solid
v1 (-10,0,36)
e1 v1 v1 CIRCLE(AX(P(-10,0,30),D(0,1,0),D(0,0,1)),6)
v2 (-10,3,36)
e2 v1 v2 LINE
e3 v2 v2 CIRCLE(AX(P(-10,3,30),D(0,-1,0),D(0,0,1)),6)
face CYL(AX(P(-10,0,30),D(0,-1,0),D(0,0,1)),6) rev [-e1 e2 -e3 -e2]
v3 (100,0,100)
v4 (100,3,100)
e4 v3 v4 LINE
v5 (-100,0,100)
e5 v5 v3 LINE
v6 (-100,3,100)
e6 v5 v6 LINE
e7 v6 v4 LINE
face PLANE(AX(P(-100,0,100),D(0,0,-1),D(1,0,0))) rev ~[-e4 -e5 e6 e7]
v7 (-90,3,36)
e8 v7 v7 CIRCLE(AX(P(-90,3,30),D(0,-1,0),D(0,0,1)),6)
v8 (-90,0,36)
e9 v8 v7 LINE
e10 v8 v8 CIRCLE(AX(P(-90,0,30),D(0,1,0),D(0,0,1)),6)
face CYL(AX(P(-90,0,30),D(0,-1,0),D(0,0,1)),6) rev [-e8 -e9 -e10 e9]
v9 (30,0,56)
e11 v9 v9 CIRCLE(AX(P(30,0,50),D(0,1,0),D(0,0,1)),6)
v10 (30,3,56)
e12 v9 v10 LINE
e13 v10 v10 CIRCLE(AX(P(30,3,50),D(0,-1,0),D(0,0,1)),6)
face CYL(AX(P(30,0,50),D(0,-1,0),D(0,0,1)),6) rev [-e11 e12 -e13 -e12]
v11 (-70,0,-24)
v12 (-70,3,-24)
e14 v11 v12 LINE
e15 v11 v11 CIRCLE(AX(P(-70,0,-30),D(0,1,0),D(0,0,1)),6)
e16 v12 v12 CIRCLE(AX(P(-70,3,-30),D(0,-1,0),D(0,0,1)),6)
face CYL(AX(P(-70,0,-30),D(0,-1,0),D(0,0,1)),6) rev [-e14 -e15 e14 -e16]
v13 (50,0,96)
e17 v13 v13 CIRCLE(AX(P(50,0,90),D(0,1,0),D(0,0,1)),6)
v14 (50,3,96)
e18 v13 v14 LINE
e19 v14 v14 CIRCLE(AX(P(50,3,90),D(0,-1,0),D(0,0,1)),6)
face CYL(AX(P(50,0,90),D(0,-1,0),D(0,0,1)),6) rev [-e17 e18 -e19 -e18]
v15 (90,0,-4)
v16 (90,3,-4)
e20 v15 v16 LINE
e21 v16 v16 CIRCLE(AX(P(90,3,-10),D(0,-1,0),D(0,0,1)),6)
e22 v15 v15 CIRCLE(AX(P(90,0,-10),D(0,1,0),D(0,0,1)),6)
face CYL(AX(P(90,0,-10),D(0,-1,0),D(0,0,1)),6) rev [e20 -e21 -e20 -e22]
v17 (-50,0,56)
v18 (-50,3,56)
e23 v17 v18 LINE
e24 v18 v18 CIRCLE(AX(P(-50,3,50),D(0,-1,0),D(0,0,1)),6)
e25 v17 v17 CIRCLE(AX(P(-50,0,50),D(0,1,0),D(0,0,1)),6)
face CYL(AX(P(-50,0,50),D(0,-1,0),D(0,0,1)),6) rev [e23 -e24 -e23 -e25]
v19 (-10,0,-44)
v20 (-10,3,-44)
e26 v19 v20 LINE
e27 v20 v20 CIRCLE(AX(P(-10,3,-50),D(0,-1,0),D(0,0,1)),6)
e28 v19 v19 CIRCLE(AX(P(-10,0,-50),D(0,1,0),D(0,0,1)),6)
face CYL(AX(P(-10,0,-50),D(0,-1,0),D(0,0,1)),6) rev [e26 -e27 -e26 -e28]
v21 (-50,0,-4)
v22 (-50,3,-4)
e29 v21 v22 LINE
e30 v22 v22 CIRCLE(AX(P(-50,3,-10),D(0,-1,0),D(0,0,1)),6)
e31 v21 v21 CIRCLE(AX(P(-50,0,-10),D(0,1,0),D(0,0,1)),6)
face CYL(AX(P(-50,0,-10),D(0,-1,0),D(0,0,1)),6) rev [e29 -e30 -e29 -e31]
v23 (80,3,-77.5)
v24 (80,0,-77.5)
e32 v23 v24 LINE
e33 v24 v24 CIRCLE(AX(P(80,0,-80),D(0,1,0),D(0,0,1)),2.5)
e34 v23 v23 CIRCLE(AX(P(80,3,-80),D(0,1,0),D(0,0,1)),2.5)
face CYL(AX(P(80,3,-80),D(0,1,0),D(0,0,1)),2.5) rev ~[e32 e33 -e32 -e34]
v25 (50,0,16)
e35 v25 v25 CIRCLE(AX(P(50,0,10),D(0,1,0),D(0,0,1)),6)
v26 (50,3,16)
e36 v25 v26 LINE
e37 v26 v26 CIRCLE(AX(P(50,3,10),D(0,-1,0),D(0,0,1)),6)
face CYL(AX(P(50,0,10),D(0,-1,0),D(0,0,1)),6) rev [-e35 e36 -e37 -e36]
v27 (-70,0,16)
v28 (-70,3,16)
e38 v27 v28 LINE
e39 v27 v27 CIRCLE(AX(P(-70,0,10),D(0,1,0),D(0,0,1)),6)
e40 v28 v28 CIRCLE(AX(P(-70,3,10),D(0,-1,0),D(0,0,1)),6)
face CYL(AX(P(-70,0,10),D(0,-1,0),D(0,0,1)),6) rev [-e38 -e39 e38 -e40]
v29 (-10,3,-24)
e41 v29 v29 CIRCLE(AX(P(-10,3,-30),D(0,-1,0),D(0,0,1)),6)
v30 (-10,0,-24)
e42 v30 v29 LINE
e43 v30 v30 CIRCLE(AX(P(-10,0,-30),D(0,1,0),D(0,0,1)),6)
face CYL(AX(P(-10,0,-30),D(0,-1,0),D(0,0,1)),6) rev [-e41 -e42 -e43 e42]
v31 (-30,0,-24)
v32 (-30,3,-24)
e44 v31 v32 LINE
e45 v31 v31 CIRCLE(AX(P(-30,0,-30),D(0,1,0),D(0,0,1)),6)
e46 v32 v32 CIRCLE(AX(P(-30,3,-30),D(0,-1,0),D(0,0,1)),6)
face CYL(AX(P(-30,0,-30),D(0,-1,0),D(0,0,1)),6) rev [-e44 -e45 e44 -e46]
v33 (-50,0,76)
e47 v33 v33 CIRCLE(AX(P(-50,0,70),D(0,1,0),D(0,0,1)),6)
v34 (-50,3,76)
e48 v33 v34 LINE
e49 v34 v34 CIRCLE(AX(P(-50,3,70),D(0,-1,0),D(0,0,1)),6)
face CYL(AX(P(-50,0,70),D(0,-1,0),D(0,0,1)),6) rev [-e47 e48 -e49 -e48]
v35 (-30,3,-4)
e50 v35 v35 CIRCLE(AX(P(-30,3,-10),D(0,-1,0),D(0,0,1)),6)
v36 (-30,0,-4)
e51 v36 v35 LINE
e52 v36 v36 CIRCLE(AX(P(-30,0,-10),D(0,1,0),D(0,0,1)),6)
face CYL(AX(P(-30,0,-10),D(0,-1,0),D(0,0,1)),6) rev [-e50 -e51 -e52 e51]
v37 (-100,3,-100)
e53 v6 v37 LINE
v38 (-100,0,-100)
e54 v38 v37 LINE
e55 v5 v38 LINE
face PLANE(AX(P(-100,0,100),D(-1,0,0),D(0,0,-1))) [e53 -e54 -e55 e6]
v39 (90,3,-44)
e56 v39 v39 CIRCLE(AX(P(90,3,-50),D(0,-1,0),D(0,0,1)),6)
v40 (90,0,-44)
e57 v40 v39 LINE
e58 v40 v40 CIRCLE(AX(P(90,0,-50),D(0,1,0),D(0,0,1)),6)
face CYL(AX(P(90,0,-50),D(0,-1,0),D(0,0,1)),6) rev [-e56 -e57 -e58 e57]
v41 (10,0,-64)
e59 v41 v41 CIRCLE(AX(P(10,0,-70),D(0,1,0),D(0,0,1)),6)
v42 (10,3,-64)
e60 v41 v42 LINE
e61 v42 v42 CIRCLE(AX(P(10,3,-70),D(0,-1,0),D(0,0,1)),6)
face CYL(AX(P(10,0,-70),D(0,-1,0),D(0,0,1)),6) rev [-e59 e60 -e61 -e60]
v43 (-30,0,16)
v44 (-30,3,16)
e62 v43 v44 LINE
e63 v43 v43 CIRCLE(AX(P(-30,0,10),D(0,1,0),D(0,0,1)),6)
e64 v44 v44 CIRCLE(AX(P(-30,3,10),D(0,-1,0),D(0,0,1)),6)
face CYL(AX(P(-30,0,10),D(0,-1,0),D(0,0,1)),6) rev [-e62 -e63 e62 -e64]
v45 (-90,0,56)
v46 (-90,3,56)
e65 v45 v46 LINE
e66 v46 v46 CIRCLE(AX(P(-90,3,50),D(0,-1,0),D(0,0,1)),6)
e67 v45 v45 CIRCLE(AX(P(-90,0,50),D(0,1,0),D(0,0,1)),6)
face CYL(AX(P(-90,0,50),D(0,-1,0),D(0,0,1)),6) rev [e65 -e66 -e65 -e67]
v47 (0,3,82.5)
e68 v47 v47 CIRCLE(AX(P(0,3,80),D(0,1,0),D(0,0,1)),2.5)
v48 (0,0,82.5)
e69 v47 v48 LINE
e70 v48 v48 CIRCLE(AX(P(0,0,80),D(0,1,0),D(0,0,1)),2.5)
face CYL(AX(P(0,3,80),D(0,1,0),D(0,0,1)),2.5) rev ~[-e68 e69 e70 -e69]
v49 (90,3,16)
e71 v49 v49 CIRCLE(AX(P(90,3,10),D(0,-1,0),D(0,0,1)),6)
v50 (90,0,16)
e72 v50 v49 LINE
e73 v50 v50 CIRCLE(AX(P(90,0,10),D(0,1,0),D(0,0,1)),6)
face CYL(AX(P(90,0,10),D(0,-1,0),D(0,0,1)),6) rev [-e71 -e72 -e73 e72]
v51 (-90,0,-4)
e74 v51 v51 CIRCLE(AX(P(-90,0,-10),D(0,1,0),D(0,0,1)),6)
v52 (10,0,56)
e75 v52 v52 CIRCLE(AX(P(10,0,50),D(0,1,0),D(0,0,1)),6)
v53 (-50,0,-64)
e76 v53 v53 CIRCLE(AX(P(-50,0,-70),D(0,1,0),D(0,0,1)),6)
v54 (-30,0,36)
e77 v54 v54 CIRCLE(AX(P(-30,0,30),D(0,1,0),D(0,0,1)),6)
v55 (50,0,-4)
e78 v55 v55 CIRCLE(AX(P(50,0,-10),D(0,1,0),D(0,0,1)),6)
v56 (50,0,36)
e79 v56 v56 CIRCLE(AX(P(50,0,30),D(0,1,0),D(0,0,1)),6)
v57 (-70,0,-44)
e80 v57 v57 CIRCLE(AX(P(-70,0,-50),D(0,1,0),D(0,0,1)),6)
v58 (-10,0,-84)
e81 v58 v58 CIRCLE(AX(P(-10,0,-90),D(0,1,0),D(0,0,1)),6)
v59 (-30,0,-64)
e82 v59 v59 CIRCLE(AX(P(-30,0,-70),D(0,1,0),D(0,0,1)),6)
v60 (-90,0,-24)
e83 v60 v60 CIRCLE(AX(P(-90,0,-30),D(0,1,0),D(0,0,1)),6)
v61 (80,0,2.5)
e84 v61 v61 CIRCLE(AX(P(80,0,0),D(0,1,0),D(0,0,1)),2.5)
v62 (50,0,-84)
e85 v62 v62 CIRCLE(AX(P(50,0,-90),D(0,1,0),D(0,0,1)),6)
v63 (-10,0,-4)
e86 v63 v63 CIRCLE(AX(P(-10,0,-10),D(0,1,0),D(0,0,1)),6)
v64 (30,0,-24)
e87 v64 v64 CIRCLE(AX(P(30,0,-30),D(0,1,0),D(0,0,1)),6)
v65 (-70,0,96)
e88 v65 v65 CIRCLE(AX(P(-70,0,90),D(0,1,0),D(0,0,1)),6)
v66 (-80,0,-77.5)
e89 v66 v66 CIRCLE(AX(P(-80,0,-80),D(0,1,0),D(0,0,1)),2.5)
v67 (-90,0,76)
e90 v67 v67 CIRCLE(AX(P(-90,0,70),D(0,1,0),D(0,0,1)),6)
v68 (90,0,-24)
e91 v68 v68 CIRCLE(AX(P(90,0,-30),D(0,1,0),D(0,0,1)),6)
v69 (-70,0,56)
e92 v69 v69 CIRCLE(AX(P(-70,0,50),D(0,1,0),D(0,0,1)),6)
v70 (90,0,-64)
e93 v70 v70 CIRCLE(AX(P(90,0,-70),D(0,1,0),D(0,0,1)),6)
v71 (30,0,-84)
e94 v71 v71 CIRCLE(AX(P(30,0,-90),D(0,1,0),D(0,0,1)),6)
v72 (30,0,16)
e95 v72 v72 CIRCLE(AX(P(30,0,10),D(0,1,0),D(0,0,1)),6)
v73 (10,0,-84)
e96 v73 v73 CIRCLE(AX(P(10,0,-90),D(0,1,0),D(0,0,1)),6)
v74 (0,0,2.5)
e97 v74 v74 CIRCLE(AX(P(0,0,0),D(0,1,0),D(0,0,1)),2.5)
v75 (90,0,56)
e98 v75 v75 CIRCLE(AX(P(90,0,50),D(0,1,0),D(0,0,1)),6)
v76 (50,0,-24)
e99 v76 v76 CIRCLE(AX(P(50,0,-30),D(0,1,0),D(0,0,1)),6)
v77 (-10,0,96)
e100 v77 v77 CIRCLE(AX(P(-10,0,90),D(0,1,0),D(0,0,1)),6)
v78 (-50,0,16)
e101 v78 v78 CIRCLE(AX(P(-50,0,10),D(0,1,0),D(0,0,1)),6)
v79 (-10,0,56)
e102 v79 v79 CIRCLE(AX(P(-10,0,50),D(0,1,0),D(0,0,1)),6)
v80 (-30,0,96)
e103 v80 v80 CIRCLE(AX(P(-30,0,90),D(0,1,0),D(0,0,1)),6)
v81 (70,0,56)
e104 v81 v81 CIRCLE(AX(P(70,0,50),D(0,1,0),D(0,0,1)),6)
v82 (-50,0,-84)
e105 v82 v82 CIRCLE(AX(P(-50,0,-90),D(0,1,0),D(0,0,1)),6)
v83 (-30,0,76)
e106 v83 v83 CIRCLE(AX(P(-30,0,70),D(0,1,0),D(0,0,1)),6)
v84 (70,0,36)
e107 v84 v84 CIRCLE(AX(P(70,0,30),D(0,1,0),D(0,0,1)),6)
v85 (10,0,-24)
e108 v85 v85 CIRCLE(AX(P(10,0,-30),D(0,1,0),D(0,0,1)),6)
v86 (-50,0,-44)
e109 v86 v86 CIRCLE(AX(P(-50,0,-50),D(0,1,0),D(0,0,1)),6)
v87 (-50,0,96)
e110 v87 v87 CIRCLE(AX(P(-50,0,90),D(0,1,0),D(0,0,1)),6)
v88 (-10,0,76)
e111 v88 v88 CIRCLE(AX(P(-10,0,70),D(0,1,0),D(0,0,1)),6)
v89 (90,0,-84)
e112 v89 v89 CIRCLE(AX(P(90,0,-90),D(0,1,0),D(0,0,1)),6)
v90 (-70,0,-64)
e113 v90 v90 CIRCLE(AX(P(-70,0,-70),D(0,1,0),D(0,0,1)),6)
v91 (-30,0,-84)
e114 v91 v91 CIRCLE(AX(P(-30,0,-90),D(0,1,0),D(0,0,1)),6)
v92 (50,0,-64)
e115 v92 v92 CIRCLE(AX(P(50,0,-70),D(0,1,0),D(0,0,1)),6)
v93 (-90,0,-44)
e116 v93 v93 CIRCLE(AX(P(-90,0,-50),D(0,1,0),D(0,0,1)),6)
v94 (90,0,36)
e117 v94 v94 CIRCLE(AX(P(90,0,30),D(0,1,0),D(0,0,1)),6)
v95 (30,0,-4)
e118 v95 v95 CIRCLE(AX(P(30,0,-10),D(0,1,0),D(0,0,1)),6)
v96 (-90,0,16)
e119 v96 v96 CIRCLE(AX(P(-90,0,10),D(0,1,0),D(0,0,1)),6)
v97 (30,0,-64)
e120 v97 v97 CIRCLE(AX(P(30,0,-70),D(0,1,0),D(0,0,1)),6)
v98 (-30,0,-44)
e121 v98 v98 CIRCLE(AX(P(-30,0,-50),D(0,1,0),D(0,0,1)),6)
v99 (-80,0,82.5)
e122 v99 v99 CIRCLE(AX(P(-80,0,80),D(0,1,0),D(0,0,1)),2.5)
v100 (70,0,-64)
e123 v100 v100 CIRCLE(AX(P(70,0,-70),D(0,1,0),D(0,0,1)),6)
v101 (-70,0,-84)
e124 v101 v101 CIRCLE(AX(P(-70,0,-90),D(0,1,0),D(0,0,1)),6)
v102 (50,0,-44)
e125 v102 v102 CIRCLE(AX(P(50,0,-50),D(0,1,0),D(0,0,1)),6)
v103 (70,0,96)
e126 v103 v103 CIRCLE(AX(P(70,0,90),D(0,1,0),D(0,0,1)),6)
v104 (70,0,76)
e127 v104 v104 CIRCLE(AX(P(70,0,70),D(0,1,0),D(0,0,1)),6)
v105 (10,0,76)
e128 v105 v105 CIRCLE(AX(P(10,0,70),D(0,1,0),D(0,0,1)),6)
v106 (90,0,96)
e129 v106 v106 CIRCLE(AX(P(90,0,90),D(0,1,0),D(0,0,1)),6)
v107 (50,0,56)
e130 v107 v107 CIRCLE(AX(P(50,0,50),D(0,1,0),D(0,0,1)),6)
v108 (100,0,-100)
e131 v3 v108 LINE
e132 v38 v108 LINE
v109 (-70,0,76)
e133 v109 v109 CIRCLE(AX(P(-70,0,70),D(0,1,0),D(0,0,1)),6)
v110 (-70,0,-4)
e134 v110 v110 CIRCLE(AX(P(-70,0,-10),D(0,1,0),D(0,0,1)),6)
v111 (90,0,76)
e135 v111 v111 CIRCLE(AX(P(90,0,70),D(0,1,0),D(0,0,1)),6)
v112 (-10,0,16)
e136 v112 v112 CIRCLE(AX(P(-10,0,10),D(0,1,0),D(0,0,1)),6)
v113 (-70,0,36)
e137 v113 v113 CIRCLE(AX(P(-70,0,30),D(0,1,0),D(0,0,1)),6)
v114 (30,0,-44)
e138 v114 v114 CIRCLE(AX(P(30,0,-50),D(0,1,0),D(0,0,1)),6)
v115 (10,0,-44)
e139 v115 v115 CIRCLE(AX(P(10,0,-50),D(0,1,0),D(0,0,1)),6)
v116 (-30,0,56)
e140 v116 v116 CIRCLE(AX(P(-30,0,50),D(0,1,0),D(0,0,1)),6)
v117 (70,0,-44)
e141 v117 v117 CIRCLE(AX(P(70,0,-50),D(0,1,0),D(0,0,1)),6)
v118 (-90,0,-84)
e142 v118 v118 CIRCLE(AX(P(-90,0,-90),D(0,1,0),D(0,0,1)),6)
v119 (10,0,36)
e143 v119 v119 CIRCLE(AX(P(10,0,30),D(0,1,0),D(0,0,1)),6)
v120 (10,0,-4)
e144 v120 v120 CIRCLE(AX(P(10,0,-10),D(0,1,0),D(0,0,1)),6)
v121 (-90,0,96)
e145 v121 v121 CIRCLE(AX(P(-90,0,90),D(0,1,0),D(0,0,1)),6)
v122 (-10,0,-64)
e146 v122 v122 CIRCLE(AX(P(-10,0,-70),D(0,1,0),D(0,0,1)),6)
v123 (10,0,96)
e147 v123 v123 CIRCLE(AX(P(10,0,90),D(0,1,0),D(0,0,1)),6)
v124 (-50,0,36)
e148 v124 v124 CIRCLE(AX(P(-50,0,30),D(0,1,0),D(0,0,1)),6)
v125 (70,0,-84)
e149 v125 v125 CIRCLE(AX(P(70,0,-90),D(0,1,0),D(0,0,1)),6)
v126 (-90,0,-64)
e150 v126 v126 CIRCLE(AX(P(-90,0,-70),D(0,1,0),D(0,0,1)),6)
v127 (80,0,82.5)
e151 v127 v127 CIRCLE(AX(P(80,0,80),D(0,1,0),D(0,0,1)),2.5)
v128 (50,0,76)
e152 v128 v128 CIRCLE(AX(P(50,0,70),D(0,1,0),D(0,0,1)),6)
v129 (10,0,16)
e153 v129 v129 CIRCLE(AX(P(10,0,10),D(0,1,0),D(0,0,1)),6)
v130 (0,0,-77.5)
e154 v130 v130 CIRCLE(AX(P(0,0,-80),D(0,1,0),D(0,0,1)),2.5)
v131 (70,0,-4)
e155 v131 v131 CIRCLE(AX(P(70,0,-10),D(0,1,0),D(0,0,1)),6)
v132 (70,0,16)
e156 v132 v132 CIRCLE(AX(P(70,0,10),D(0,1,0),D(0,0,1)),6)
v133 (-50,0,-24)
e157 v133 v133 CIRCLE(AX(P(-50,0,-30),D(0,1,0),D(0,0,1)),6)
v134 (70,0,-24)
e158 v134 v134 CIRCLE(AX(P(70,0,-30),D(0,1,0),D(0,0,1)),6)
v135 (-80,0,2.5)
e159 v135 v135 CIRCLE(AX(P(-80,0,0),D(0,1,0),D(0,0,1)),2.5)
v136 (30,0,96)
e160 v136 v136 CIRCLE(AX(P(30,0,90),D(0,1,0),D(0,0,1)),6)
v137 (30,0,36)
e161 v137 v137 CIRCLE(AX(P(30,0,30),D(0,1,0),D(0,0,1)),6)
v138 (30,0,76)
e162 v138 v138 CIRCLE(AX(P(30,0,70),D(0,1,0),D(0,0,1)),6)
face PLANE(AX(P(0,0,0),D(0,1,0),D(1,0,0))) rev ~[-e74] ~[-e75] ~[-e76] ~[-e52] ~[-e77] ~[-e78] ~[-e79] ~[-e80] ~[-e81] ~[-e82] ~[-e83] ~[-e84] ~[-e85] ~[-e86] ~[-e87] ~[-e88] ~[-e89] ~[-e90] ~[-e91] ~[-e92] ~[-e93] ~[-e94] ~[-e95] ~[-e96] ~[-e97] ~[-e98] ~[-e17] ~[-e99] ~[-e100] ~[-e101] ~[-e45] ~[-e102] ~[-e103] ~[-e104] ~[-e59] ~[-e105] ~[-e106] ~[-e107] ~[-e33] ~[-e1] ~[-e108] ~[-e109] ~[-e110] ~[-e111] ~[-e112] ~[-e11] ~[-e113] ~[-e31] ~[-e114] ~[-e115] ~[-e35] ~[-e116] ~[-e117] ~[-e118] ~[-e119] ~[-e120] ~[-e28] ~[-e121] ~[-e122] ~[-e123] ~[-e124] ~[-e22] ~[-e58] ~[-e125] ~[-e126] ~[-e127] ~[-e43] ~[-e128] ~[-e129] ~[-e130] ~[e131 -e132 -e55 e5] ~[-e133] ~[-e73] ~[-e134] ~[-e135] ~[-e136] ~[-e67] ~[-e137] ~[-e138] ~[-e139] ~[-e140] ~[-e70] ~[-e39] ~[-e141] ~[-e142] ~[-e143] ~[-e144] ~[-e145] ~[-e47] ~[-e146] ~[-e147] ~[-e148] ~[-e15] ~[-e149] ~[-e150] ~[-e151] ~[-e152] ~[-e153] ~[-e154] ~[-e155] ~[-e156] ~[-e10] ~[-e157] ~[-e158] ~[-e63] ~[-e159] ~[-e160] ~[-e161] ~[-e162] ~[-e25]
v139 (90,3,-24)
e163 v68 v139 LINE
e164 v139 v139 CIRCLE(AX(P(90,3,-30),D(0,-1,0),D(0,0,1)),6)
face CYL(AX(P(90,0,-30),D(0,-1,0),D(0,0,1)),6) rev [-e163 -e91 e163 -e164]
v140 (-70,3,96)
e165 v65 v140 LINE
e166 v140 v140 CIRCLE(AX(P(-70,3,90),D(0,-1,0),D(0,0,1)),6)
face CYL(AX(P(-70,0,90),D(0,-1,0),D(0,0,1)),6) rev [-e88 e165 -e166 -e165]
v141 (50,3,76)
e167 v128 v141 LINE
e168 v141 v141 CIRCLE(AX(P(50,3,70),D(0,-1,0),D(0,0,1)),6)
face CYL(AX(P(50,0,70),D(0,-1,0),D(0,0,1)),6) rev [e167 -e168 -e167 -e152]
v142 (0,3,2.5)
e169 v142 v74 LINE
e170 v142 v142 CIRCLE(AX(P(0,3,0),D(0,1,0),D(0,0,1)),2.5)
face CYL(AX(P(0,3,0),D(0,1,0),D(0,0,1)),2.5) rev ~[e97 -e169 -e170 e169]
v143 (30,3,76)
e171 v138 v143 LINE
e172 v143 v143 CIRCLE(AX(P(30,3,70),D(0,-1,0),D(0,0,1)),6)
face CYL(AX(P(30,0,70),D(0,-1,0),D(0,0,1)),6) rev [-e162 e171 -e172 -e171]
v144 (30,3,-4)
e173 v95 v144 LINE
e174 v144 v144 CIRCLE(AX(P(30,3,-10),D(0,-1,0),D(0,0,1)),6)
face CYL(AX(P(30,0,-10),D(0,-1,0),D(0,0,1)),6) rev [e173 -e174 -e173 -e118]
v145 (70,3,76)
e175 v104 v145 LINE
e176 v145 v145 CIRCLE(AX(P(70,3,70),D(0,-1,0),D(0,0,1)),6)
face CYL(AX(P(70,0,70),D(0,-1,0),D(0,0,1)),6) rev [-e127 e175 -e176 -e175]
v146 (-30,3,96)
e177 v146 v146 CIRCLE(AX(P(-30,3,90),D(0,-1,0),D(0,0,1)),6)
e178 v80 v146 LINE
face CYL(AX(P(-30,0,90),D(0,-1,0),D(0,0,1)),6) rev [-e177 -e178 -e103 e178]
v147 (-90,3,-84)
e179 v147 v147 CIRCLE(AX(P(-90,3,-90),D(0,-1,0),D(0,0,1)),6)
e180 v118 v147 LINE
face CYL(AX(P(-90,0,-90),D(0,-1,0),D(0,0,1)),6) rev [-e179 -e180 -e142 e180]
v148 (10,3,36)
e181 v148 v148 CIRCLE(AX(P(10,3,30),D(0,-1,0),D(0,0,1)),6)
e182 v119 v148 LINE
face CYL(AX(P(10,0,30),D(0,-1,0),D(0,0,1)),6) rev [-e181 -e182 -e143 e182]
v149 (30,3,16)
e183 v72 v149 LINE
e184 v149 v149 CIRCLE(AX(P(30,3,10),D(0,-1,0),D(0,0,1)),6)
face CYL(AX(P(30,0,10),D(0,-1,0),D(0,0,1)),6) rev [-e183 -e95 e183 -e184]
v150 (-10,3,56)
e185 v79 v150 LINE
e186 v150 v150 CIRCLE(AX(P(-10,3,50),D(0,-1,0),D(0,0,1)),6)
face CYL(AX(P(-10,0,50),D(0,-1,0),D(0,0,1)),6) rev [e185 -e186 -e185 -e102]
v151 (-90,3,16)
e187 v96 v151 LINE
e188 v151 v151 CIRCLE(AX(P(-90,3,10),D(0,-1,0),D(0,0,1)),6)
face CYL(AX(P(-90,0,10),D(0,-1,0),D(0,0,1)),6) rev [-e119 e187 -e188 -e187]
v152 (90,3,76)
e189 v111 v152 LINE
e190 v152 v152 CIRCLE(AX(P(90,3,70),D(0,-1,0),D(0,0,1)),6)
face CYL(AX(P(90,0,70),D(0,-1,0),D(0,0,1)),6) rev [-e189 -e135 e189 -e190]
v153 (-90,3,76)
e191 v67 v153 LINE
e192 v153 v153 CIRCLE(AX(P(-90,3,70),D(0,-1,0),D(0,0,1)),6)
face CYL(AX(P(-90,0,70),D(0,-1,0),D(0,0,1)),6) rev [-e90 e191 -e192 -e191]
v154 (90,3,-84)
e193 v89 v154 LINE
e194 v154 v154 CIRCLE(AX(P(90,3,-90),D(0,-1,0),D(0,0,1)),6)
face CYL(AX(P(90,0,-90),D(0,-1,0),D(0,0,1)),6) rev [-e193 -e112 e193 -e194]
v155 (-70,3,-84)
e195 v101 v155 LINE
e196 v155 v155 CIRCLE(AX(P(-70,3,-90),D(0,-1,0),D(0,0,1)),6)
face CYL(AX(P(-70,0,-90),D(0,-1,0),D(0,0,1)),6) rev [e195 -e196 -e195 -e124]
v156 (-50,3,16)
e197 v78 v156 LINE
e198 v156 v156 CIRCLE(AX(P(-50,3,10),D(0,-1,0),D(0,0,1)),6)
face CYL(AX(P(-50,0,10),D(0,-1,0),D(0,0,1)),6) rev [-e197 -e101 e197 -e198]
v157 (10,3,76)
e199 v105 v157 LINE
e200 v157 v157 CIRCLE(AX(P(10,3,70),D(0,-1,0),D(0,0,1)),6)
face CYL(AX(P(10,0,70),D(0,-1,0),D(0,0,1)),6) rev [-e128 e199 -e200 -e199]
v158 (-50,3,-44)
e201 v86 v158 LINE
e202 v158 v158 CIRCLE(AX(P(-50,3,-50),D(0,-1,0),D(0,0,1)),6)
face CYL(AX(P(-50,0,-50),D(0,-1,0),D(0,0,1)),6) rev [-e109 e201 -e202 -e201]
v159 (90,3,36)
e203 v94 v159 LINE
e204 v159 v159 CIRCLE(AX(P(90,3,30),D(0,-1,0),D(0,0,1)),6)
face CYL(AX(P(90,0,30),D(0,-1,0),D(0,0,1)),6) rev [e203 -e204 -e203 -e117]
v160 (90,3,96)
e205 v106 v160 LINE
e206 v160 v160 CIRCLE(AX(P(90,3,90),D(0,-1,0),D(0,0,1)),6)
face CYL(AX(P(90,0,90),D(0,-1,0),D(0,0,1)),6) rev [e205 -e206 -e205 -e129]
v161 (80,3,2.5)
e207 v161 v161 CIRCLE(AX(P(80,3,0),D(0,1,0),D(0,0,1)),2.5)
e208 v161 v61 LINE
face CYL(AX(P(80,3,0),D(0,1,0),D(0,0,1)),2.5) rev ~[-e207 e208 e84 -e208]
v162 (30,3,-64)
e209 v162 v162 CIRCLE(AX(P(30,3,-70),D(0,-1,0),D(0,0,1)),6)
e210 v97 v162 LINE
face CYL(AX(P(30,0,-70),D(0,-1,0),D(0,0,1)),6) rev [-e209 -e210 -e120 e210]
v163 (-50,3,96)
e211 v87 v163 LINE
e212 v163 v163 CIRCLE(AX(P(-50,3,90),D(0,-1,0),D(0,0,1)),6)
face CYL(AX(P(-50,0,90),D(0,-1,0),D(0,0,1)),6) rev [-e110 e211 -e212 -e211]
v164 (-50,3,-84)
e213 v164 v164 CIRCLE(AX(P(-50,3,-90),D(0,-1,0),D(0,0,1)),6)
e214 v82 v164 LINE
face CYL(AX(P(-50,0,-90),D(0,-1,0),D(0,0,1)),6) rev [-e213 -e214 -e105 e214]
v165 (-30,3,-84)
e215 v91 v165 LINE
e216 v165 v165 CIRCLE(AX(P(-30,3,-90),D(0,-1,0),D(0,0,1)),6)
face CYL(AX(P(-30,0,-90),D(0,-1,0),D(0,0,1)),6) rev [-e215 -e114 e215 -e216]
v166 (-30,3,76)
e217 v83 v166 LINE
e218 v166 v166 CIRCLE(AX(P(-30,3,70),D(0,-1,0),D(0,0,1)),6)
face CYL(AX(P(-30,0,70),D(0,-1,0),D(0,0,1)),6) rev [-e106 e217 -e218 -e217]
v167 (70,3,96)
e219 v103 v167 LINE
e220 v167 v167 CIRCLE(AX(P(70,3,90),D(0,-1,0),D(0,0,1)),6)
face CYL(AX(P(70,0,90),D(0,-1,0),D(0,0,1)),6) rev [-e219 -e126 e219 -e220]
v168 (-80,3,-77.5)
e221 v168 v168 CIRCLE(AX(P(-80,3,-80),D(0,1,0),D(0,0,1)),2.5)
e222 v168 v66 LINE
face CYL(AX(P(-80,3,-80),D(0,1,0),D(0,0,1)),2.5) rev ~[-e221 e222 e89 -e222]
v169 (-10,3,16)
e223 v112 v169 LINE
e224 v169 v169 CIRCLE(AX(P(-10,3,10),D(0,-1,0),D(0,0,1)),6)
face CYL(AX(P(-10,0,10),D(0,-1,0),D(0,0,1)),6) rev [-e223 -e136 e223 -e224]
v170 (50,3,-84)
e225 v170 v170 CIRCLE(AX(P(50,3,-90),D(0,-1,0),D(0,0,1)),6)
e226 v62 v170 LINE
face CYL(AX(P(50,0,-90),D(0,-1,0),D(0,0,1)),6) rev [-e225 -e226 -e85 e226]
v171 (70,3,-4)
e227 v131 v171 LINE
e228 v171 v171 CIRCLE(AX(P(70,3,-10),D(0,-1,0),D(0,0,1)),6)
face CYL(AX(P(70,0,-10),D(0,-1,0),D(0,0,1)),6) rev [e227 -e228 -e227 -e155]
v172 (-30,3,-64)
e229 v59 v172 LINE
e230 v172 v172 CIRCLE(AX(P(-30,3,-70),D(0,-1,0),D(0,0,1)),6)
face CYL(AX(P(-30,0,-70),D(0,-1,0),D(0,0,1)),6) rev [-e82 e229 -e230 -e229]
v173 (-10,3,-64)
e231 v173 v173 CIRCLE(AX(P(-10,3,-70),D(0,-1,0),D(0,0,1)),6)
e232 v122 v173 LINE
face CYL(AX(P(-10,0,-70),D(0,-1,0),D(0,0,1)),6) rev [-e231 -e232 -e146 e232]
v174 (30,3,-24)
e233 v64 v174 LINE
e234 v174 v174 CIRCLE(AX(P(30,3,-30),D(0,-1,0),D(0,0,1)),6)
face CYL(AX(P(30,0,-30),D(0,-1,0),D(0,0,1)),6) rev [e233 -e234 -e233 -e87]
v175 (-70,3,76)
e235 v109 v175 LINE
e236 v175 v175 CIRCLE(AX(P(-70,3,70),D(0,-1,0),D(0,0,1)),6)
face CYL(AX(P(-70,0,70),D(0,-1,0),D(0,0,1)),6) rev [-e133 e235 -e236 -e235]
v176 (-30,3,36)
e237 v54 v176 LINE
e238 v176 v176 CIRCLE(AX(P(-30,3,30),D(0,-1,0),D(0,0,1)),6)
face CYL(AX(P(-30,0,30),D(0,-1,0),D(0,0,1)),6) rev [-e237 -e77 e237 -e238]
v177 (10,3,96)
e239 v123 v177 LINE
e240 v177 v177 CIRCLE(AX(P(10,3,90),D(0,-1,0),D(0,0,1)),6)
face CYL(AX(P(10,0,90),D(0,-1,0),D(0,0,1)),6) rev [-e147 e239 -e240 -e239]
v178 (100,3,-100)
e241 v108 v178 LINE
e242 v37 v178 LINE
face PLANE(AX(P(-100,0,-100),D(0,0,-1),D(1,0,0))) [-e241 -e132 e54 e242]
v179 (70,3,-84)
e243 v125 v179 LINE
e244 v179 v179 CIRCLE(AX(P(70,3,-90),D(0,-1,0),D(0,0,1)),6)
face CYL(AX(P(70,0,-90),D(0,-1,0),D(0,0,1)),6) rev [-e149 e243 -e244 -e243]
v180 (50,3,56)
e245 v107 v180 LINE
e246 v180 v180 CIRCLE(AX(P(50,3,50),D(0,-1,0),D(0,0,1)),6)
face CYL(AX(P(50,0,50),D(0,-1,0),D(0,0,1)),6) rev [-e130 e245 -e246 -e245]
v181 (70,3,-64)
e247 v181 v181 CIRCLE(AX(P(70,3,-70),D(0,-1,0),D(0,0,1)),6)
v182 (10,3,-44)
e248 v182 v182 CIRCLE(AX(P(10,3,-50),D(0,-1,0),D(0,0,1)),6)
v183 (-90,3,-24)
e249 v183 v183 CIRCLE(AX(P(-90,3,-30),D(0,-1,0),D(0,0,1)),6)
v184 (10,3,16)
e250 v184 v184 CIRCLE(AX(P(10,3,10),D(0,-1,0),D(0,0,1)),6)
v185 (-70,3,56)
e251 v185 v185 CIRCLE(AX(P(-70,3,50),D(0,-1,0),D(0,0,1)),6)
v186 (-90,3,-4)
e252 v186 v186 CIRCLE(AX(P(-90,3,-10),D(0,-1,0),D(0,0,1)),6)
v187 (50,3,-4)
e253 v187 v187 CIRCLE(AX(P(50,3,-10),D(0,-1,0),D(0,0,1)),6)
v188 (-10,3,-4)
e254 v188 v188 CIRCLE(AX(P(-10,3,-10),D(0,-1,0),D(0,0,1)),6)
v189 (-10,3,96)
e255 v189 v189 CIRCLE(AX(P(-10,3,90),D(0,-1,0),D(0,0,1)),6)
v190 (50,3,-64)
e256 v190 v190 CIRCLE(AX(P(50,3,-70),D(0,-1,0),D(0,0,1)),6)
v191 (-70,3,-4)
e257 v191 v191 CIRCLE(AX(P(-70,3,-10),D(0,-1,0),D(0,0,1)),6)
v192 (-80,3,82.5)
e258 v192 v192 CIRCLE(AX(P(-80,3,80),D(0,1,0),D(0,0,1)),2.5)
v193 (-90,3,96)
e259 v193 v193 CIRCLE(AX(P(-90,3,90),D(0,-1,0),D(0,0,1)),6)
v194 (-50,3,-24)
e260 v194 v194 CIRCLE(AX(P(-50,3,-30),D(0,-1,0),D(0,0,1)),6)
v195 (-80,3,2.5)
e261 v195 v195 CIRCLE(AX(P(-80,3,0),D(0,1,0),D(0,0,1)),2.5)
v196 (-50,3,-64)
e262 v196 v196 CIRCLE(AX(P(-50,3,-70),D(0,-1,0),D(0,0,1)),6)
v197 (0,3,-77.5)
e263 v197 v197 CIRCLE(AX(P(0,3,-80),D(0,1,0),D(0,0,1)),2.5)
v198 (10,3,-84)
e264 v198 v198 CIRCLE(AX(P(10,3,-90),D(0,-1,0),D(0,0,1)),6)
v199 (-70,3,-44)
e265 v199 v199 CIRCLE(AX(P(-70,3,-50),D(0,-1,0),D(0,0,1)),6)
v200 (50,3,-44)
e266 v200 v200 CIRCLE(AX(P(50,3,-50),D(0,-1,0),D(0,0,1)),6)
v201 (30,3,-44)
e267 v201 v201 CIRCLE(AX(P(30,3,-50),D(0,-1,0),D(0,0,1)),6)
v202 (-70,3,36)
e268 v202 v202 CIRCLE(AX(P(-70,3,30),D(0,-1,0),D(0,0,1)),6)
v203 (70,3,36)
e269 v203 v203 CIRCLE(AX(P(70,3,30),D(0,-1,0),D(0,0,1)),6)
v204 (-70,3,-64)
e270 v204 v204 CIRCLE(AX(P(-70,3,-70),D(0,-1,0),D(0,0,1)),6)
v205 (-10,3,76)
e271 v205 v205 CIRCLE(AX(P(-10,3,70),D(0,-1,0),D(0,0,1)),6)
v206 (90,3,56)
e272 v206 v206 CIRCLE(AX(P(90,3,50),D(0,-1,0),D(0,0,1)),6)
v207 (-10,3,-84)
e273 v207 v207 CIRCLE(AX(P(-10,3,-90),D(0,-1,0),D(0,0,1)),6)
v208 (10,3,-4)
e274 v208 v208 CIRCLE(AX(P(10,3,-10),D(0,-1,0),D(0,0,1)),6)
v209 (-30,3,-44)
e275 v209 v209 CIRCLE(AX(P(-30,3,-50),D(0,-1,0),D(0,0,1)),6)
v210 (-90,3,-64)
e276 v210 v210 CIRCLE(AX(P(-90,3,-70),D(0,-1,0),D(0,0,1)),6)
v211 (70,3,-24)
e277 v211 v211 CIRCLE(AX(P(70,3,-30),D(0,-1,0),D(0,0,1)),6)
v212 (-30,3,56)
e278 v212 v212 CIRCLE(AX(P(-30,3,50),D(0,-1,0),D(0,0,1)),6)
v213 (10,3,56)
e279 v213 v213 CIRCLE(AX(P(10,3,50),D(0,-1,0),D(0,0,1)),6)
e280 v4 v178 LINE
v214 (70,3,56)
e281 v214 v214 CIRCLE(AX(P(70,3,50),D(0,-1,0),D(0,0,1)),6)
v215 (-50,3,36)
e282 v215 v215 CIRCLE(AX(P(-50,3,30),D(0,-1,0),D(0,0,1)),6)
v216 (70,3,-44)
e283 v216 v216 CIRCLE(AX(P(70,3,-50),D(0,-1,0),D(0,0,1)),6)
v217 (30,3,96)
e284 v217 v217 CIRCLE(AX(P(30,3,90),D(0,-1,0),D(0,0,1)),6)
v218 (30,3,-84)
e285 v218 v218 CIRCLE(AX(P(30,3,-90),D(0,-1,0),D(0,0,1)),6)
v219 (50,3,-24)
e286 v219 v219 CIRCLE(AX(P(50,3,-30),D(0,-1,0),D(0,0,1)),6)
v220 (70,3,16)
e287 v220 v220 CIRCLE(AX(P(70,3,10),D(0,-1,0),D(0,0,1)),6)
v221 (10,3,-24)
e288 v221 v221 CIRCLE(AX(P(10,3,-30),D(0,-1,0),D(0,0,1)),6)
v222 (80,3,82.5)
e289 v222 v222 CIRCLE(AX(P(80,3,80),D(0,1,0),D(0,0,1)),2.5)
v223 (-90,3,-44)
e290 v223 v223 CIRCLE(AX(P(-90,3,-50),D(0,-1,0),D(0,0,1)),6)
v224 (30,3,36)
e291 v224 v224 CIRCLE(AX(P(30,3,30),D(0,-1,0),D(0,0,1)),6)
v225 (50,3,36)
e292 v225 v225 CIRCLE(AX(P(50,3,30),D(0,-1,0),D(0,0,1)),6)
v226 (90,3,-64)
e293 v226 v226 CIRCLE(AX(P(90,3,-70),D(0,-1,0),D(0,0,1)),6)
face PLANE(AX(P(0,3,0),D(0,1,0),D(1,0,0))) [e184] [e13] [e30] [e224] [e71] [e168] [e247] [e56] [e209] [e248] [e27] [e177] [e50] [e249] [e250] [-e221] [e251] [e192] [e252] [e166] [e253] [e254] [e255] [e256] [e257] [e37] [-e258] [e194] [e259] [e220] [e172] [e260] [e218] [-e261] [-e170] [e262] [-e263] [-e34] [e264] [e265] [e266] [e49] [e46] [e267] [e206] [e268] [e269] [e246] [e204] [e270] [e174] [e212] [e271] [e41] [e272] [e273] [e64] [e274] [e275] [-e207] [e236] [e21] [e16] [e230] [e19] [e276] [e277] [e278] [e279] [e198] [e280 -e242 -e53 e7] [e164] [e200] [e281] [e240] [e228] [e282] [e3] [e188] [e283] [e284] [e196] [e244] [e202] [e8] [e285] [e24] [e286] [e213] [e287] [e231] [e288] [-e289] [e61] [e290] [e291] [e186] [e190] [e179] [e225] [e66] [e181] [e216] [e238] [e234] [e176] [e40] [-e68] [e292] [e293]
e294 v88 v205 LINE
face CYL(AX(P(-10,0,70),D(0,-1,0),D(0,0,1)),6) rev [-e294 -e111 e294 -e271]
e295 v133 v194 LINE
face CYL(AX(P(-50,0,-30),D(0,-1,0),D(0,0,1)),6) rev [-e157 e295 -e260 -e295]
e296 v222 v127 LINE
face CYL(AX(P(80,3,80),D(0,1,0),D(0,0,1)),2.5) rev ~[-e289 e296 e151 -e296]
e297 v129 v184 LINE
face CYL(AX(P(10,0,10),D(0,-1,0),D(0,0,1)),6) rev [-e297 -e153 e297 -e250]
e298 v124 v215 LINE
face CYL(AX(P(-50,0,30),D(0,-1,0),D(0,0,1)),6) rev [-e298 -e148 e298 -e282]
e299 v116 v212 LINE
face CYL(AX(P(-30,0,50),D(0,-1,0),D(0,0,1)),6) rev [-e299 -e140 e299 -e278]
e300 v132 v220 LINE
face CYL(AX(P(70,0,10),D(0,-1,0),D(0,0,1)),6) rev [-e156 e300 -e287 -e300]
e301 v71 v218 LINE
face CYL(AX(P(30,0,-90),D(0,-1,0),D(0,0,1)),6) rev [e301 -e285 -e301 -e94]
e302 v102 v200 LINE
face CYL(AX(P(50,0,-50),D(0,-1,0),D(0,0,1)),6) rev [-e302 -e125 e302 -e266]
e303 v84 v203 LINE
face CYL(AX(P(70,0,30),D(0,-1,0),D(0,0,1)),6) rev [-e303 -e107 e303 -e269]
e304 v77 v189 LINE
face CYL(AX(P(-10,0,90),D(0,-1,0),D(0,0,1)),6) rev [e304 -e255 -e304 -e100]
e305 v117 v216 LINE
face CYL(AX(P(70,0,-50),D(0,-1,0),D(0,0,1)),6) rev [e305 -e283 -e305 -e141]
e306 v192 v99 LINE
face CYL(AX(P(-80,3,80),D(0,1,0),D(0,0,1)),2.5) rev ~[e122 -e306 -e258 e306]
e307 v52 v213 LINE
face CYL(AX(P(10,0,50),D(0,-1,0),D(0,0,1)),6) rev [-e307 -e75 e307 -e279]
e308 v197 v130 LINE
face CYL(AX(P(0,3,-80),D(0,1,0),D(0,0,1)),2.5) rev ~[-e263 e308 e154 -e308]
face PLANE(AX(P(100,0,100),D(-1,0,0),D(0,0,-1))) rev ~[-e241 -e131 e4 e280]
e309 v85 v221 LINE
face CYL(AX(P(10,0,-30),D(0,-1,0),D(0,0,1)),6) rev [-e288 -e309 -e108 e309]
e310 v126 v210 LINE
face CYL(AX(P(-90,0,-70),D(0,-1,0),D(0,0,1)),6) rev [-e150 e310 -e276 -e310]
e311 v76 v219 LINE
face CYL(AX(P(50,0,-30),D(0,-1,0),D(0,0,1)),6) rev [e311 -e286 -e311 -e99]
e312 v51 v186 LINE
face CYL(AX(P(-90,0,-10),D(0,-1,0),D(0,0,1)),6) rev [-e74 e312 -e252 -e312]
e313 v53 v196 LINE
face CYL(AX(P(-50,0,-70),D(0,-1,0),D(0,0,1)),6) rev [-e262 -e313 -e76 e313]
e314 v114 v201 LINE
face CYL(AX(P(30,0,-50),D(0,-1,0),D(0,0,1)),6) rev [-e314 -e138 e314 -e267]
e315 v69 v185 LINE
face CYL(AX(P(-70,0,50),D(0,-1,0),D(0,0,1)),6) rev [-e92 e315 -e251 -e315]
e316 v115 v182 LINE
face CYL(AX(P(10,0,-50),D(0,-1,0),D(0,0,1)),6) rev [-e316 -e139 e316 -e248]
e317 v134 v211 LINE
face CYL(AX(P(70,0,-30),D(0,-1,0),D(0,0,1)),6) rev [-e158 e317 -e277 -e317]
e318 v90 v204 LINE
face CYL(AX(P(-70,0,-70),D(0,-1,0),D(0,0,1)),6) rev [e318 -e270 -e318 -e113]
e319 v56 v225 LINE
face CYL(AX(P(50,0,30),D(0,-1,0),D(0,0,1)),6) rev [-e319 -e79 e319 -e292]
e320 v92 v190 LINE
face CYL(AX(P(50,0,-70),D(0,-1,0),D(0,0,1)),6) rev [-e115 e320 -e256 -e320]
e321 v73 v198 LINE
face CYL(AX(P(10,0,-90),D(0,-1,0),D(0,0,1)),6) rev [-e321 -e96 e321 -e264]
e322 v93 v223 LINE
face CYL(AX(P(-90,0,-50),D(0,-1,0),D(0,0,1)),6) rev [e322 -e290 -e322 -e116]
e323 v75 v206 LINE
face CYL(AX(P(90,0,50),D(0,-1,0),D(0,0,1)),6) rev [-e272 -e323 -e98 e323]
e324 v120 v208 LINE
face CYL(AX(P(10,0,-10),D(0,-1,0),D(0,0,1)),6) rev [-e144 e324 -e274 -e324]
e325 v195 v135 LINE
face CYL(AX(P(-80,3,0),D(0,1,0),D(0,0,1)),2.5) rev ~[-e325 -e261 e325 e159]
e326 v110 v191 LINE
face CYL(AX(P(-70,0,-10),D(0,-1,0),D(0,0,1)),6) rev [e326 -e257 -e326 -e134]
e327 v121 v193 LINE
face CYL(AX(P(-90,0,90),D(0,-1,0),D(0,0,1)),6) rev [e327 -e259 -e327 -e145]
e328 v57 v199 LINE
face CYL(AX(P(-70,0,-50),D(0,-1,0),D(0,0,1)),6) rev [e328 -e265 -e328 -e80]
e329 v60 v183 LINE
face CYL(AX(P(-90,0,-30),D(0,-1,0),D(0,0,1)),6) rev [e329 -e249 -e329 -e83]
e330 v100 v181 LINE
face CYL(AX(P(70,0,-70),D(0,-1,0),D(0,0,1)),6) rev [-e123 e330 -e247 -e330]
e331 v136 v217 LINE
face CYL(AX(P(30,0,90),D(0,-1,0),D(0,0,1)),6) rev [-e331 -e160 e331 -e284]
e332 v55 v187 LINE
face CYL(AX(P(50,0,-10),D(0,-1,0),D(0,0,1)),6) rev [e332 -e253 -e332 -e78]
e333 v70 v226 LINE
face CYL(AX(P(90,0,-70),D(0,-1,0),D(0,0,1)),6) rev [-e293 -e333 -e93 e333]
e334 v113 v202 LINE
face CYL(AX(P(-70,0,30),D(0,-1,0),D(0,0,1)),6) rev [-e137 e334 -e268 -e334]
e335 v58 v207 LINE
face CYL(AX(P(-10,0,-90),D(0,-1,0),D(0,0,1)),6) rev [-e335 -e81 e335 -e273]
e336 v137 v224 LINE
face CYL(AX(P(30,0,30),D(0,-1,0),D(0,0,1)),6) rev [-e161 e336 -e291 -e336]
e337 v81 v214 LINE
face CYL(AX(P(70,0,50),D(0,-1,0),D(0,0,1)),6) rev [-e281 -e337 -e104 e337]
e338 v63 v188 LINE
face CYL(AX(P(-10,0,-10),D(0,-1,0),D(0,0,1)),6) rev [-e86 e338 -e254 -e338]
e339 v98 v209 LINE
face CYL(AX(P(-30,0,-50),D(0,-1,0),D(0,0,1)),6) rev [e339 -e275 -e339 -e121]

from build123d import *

# Parameters (mm, degrees)
SKETCH3_W            = 200
SKETCH3_H            = 200
BOSS_EXTRUDE2_DEPTH  = 3
SKETCH1_R            = 6
CUT_EXTRUDE1_DEPTH   = 142.453172464
SKETCH4_R            = 2.5
CUT_EXTRUDE2_DEPTH   = 142.453172464
LPATTERN1_COUNT      = 3
LPATTERN1_PITCH      = 80
LPATTERN1_COUNT_DIR2 = 3
LPATTERN1_PITCH_DIR2 = 80


with BuildPart() as part:
    # Sketch3 → Boss-Extrude2 (new body)
    with BuildSketch(Plane(origin=(0, 0, 0), x_dir=(1, 0, 0), z_dir=(0, 1, 0))):
        Rectangle(SKETCH3_W, SKETCH3_H)
    extrude(amount=BOSS_EXTRUDE2_DEPTH)

    # Sketch1 → Cut-Extrude1 (cut, through all)
    with BuildSketch(Plane(origin=(0, 0, 0), x_dir=(1, 0, 0), z_dir=(0, 1, 0))):
        with Locations(Location((-90, -90, 0), (0, 0, 270))):
            Circle(SKETCH1_R)
        with Locations(Location((-70, -90, 0), (0, 0, 270))):
            Circle(SKETCH1_R)
        with Locations(Location((-50, -90, 0), (0, 0, 270))):
            Circle(SKETCH1_R)
        with Locations(Location((-30, -90, 0), (0, 0, 270))):
            Circle(SKETCH1_R)
        with Locations(Location((-10, -90, 0), (0, 0, 270))):
            Circle(SKETCH1_R)
        with Locations(Location((10, -90, 0), (0, 0, 270))):
            Circle(SKETCH1_R)
        with Locations(Location((30, -90, 0), (0, 0, 270))):
            Circle(SKETCH1_R)
        with Locations(Location((50, -90, 0), (0, 0, 270))):
            Circle(SKETCH1_R)
        with Locations(Location((70, -90, 0), (0, 0, 270))):
            Circle(SKETCH1_R)
        with Locations(Location((90, -90, 0), (0, 0, 270))):
            Circle(SKETCH1_R)
        with Locations(Location((-70, -70, 0), (0, 0, 270))):
            Circle(SKETCH1_R)
        with Locations(Location((-50, -70, 0), (0, 0, 270))):
            Circle(SKETCH1_R)
        with Locations(Location((-30, -70, 0), (0, 0, 270))):
            Circle(SKETCH1_R)
        with Locations(Location((-10, -70, 0), (0, 0, 270))):
            Circle(SKETCH1_R)
        with Locations(Location((10, -70, 0), (0, 0, 270))):
            Circle(SKETCH1_R)
        with Locations(Location((30, -70, 0), (0, 0, 270))):
            Circle(SKETCH1_R)
        with Locations(Location((50, -70, 0), (0, 0, 270))):
            Circle(SKETCH1_R)
        with Locations(Location((70, -70, 0), (0, 0, 270))):
            Circle(SKETCH1_R)
        with Locations(Location((90, -70, 0), (0, 0, 270))):
            Circle(SKETCH1_R)
        with Locations(Location((-70, -50, 0), (0, 0, 270))):
            Circle(SKETCH1_R)
        with Locations(Location((-50, -50, 0), (0, 0, 270))):
            Circle(SKETCH1_R)
        with Locations(Location((-30, -50, 0), (0, 0, 270))):
            Circle(SKETCH1_R)
        with Locations(Location((-10, -50, 0), (0, 0, 270))):
            Circle(SKETCH1_R)
        with Locations(Location((10, -50, 0), (0, 0, 270))):
            Circle(SKETCH1_R)
        with Locations(Location((30, -50, 0), (0, 0, 270))):
            Circle(SKETCH1_R)
        with Locations(Location((50, -50, 0), (0, 0, 270))):
            Circle(SKETCH1_R)
        with Locations(Location((70, -50, 0), (0, 0, 270))):
            Circle(SKETCH1_R)
        with Locations(Location((90, -50, 0), (0, 0, 270))):
            Circle(SKETCH1_R)
        with Locations(Location((-70, -30, 0), (0, 0, 270))):
            Circle(SKETCH1_R)
        with Locations(Location((-50, -30, 0), (0, 0, 270))):
            Circle(SKETCH1_R)
        with Locations(Location((-30, -30, 0), (0, 0, 270))):
            Circle(SKETCH1_R)
        with Locations(Location((-10, -30, 0), (0, 0, 270))):
            Circle(SKETCH1_R)
        with Locations(Location((10, -30, 0), (0, 0, 270))):
            Circle(SKETCH1_R)
        with Locations(Location((30, -30, 0), (0, 0, 270))):
            Circle(SKETCH1_R)
        with Locations(Location((50, -30, 0), (0, 0, 270))):
            Circle(SKETCH1_R)
        with Locations(Location((70, -30, 0), (0, 0, 270))):
            Circle(SKETCH1_R)
        with Locations(Location((90, -30, 0), (0, 0, 270))):
            Circle(SKETCH1_R)
        with Locations(Location((-70, -10, 0), (0, 0, 270))):
            Circle(SKETCH1_R)
        with Locations(Location((-50, -10, 0), (0, 0, 270))):
            Circle(SKETCH1_R)
        with Locations(Location((-30, -10, 0), (0, 0, 270))):
            Circle(SKETCH1_R)
        with Locations(Location((-10, -10, 0), (0, 0, 270))):
            Circle(SKETCH1_R)
        with Locations(Location((10, -10, 0), (0, 0, 270))):
            Circle(SKETCH1_R)
        with Locations(Location((30, -10, 0), (0, 0, 270))):
            Circle(SKETCH1_R)
        with Locations(Location((50, -10, 0), (0, 0, 270))):
            Circle(SKETCH1_R)
        with Locations(Location((70, -10, 0), (0, 0, 270))):
            Circle(SKETCH1_R)
        with Locations(Location((90, -10, 0), (0, 0, 270))):
            Circle(SKETCH1_R)
        with Locations(Location((-70, 10, 0), (0, 0, 270))):
            Circle(SKETCH1_R)
        with Locations(Location((-50, 10, 0), (0, 0, 270))):
            Circle(SKETCH1_R)
        with Locations(Location((-30, 10, 0), (0, 0, 270))):
            Circle(SKETCH1_R)
        with Locations(Location((-10, 10, 0), (0, 0, 270))):
            Circle(SKETCH1_R)
        with Locations(Location((10, 10, 0), (0, 0, 270))):
            Circle(SKETCH1_R)
        with Locations(Location((30, 10, 0), (0, 0, 270))):
            Circle(SKETCH1_R)
        with Locations(Location((50, 10, 0), (0, 0, 270))):
            Circle(SKETCH1_R)
        with Locations(Location((70, 10, 0), (0, 0, 270))):
            Circle(SKETCH1_R)
        with Locations(Location((90, 10, 0), (0, 0, 270))):
            Circle(SKETCH1_R)
        with Locations(Location((-70, 30, 0), (0, 0, 270))):
            Circle(SKETCH1_R)
        with Locations(Location((-50, 30, 0), (0, 0, 270))):
            Circle(SKETCH1_R)
        with Locations(Location((-30, 30, 0), (0, 0, 270))):
            Circle(SKETCH1_R)
        with Locations(Location((-10, 30, 0), (0, 0, 270))):
            Circle(SKETCH1_R)
        with Locations(Location((10, 30, 0), (0, 0, 270))):
            Circle(SKETCH1_R)
        with Locations(Location((30, 30, 0), (0, 0, 270))):
            Circle(SKETCH1_R)
        with Locations(Location((50, 30, 0), (0, 0, 270))):
            Circle(SKETCH1_R)
        with Locations(Location((70, 30, 0), (0, 0, 270))):
            Circle(SKETCH1_R)
        with Locations(Location((90, 30, 0), (0, 0, 270))):
            Circle(SKETCH1_R)
        with Locations(Location((-70, 50, 0), (0, 0, 270))):
            Circle(SKETCH1_R)
        with Locations(Location((-50, 50, 0), (0, 0, 270))):
            Circle(SKETCH1_R)
        with Locations(Location((-30, 50, 0), (0, 0, 270))):
            Circle(SKETCH1_R)
        with Locations(Location((-10, 50, 0), (0, 0, 270))):
            Circle(SKETCH1_R)
        with Locations(Location((10, 50, 0), (0, 0, 270))):
            Circle(SKETCH1_R)
        with Locations(Location((30, 50, 0), (0, 0, 270))):
            Circle(SKETCH1_R)
        with Locations(Location((50, 50, 0), (0, 0, 270))):
            Circle(SKETCH1_R)
        with Locations(Location((70, 50, 0), (0, 0, 270))):
            Circle(SKETCH1_R)
        with Locations(Location((90, 50, 0), (0, 0, 270))):
            Circle(SKETCH1_R)
        with Locations(Location((-70, 70, 0), (0, 0, 270))):
            Circle(SKETCH1_R)
        with Locations(Location((-50, 70, 0), (0, 0, 270))):
            Circle(SKETCH1_R)
        with Locations(Location((-30, 70, 0), (0, 0, 270))):
            Circle(SKETCH1_R)
        with Locations(Location((-10, 70, 0), (0, 0, 270))):
            Circle(SKETCH1_R)
        with Locations(Location((10, 70, 0), (0, 0, 270))):
            Circle(SKETCH1_R)
        with Locations(Location((30, 70, 0), (0, 0, 270))):
            Circle(SKETCH1_R)
        with Locations(Location((50, 70, 0), (0, 0, 270))):
            Circle(SKETCH1_R)
        with Locations(Location((70, 70, 0), (0, 0, 270))):
            Circle(SKETCH1_R)
        with Locations(Location((90, 70, 0), (0, 0, 270))):
            Circle(SKETCH1_R)
        with Locations(Location((-70, 90, 0), (0, 0, 270))):
            Circle(SKETCH1_R)
        with Locations(Location((-50, 90, 0), (0, 0, 270))):
            Circle(SKETCH1_R)
        with Locations(Location((-30, 90, 0), (0, 0, 270))):
            Circle(SKETCH1_R)
        with Locations(Location((-10, 90, 0), (0, 0, 270))):
            Circle(SKETCH1_R)
        with Locations(Location((10, 90, 0), (0, 0, 270))):
            Circle(SKETCH1_R)
        with Locations(Location((30, 90, 0), (0, 0, 270))):
            Circle(SKETCH1_R)
        with Locations(Location((50, 90, 0), (0, 0, 270))):
            Circle(SKETCH1_R)
        with Locations(Location((70, 90, 0), (0, 0, 270))):
            Circle(SKETCH1_R)
        with Locations(Location((90, 90, 0), (0, 0, 270))):
            Circle(SKETCH1_R)
        with Locations(Location((-90, -70, 0), (0, 0, 270))):
            Circle(SKETCH1_R)
        with Locations(Location((-90, -50, 0), (0, 0, 270))):
            Circle(SKETCH1_R)
        with Locations(Location((-90, -30, 0), (0, 0, 270))):
            Circle(SKETCH1_R)
        with Locations(Location((-90, -10, 0), (0, 0, 270))):
            Circle(SKETCH1_R)
        with Locations(Location((-90, 10, 0), (0, 0, 270))):
            Circle(SKETCH1_R)
        with Locations(Location((-90, 30, 0), (0, 0, 270))):
            Circle(SKETCH1_R)
        with Locations(Location((-90, 50, 0), (0, 0, 270))):
            Circle(SKETCH1_R)
        with Locations(Location((-90, 70, 0), (0, 0, 270))):
            Circle(SKETCH1_R)
        with Locations(Location((-90, 90, 0), (0, 0, 270))):
            Circle(SKETCH1_R)
    extrude(amount=CUT_EXTRUDE1_DEPTH, mode=Mode.SUBTRACT)

    # Sketch4 → Cut-Extrude2 (cut, through all)
    with BuildSketch(Plane(origin=(0, 3, 0), x_dir=(1, 0, 0), z_dir=(0, 1, 0))):
        with Locations(Location((-80, -80, 0), (0, 0, 270))):
            Circle(SKETCH4_R)
    cut_extrude2 = extrude(amount=-CUT_EXTRUDE2_DEPTH, mode=Mode.SUBTRACT)

    # LPattern1: Cut-Extrude2 3 × 3
    with Locations(*[(i * LPATTERN1_PITCH, 0, -j * LPATTERN1_PITCH_DIR2) for i in range(LPATTERN1_COUNT) for j in range(LPATTERN1_COUNT_DIR2) if (i, j) != (0, 0)]):
        add(cut_extrude2, mode=Mode.SUBTRACT)


solid = part.part
